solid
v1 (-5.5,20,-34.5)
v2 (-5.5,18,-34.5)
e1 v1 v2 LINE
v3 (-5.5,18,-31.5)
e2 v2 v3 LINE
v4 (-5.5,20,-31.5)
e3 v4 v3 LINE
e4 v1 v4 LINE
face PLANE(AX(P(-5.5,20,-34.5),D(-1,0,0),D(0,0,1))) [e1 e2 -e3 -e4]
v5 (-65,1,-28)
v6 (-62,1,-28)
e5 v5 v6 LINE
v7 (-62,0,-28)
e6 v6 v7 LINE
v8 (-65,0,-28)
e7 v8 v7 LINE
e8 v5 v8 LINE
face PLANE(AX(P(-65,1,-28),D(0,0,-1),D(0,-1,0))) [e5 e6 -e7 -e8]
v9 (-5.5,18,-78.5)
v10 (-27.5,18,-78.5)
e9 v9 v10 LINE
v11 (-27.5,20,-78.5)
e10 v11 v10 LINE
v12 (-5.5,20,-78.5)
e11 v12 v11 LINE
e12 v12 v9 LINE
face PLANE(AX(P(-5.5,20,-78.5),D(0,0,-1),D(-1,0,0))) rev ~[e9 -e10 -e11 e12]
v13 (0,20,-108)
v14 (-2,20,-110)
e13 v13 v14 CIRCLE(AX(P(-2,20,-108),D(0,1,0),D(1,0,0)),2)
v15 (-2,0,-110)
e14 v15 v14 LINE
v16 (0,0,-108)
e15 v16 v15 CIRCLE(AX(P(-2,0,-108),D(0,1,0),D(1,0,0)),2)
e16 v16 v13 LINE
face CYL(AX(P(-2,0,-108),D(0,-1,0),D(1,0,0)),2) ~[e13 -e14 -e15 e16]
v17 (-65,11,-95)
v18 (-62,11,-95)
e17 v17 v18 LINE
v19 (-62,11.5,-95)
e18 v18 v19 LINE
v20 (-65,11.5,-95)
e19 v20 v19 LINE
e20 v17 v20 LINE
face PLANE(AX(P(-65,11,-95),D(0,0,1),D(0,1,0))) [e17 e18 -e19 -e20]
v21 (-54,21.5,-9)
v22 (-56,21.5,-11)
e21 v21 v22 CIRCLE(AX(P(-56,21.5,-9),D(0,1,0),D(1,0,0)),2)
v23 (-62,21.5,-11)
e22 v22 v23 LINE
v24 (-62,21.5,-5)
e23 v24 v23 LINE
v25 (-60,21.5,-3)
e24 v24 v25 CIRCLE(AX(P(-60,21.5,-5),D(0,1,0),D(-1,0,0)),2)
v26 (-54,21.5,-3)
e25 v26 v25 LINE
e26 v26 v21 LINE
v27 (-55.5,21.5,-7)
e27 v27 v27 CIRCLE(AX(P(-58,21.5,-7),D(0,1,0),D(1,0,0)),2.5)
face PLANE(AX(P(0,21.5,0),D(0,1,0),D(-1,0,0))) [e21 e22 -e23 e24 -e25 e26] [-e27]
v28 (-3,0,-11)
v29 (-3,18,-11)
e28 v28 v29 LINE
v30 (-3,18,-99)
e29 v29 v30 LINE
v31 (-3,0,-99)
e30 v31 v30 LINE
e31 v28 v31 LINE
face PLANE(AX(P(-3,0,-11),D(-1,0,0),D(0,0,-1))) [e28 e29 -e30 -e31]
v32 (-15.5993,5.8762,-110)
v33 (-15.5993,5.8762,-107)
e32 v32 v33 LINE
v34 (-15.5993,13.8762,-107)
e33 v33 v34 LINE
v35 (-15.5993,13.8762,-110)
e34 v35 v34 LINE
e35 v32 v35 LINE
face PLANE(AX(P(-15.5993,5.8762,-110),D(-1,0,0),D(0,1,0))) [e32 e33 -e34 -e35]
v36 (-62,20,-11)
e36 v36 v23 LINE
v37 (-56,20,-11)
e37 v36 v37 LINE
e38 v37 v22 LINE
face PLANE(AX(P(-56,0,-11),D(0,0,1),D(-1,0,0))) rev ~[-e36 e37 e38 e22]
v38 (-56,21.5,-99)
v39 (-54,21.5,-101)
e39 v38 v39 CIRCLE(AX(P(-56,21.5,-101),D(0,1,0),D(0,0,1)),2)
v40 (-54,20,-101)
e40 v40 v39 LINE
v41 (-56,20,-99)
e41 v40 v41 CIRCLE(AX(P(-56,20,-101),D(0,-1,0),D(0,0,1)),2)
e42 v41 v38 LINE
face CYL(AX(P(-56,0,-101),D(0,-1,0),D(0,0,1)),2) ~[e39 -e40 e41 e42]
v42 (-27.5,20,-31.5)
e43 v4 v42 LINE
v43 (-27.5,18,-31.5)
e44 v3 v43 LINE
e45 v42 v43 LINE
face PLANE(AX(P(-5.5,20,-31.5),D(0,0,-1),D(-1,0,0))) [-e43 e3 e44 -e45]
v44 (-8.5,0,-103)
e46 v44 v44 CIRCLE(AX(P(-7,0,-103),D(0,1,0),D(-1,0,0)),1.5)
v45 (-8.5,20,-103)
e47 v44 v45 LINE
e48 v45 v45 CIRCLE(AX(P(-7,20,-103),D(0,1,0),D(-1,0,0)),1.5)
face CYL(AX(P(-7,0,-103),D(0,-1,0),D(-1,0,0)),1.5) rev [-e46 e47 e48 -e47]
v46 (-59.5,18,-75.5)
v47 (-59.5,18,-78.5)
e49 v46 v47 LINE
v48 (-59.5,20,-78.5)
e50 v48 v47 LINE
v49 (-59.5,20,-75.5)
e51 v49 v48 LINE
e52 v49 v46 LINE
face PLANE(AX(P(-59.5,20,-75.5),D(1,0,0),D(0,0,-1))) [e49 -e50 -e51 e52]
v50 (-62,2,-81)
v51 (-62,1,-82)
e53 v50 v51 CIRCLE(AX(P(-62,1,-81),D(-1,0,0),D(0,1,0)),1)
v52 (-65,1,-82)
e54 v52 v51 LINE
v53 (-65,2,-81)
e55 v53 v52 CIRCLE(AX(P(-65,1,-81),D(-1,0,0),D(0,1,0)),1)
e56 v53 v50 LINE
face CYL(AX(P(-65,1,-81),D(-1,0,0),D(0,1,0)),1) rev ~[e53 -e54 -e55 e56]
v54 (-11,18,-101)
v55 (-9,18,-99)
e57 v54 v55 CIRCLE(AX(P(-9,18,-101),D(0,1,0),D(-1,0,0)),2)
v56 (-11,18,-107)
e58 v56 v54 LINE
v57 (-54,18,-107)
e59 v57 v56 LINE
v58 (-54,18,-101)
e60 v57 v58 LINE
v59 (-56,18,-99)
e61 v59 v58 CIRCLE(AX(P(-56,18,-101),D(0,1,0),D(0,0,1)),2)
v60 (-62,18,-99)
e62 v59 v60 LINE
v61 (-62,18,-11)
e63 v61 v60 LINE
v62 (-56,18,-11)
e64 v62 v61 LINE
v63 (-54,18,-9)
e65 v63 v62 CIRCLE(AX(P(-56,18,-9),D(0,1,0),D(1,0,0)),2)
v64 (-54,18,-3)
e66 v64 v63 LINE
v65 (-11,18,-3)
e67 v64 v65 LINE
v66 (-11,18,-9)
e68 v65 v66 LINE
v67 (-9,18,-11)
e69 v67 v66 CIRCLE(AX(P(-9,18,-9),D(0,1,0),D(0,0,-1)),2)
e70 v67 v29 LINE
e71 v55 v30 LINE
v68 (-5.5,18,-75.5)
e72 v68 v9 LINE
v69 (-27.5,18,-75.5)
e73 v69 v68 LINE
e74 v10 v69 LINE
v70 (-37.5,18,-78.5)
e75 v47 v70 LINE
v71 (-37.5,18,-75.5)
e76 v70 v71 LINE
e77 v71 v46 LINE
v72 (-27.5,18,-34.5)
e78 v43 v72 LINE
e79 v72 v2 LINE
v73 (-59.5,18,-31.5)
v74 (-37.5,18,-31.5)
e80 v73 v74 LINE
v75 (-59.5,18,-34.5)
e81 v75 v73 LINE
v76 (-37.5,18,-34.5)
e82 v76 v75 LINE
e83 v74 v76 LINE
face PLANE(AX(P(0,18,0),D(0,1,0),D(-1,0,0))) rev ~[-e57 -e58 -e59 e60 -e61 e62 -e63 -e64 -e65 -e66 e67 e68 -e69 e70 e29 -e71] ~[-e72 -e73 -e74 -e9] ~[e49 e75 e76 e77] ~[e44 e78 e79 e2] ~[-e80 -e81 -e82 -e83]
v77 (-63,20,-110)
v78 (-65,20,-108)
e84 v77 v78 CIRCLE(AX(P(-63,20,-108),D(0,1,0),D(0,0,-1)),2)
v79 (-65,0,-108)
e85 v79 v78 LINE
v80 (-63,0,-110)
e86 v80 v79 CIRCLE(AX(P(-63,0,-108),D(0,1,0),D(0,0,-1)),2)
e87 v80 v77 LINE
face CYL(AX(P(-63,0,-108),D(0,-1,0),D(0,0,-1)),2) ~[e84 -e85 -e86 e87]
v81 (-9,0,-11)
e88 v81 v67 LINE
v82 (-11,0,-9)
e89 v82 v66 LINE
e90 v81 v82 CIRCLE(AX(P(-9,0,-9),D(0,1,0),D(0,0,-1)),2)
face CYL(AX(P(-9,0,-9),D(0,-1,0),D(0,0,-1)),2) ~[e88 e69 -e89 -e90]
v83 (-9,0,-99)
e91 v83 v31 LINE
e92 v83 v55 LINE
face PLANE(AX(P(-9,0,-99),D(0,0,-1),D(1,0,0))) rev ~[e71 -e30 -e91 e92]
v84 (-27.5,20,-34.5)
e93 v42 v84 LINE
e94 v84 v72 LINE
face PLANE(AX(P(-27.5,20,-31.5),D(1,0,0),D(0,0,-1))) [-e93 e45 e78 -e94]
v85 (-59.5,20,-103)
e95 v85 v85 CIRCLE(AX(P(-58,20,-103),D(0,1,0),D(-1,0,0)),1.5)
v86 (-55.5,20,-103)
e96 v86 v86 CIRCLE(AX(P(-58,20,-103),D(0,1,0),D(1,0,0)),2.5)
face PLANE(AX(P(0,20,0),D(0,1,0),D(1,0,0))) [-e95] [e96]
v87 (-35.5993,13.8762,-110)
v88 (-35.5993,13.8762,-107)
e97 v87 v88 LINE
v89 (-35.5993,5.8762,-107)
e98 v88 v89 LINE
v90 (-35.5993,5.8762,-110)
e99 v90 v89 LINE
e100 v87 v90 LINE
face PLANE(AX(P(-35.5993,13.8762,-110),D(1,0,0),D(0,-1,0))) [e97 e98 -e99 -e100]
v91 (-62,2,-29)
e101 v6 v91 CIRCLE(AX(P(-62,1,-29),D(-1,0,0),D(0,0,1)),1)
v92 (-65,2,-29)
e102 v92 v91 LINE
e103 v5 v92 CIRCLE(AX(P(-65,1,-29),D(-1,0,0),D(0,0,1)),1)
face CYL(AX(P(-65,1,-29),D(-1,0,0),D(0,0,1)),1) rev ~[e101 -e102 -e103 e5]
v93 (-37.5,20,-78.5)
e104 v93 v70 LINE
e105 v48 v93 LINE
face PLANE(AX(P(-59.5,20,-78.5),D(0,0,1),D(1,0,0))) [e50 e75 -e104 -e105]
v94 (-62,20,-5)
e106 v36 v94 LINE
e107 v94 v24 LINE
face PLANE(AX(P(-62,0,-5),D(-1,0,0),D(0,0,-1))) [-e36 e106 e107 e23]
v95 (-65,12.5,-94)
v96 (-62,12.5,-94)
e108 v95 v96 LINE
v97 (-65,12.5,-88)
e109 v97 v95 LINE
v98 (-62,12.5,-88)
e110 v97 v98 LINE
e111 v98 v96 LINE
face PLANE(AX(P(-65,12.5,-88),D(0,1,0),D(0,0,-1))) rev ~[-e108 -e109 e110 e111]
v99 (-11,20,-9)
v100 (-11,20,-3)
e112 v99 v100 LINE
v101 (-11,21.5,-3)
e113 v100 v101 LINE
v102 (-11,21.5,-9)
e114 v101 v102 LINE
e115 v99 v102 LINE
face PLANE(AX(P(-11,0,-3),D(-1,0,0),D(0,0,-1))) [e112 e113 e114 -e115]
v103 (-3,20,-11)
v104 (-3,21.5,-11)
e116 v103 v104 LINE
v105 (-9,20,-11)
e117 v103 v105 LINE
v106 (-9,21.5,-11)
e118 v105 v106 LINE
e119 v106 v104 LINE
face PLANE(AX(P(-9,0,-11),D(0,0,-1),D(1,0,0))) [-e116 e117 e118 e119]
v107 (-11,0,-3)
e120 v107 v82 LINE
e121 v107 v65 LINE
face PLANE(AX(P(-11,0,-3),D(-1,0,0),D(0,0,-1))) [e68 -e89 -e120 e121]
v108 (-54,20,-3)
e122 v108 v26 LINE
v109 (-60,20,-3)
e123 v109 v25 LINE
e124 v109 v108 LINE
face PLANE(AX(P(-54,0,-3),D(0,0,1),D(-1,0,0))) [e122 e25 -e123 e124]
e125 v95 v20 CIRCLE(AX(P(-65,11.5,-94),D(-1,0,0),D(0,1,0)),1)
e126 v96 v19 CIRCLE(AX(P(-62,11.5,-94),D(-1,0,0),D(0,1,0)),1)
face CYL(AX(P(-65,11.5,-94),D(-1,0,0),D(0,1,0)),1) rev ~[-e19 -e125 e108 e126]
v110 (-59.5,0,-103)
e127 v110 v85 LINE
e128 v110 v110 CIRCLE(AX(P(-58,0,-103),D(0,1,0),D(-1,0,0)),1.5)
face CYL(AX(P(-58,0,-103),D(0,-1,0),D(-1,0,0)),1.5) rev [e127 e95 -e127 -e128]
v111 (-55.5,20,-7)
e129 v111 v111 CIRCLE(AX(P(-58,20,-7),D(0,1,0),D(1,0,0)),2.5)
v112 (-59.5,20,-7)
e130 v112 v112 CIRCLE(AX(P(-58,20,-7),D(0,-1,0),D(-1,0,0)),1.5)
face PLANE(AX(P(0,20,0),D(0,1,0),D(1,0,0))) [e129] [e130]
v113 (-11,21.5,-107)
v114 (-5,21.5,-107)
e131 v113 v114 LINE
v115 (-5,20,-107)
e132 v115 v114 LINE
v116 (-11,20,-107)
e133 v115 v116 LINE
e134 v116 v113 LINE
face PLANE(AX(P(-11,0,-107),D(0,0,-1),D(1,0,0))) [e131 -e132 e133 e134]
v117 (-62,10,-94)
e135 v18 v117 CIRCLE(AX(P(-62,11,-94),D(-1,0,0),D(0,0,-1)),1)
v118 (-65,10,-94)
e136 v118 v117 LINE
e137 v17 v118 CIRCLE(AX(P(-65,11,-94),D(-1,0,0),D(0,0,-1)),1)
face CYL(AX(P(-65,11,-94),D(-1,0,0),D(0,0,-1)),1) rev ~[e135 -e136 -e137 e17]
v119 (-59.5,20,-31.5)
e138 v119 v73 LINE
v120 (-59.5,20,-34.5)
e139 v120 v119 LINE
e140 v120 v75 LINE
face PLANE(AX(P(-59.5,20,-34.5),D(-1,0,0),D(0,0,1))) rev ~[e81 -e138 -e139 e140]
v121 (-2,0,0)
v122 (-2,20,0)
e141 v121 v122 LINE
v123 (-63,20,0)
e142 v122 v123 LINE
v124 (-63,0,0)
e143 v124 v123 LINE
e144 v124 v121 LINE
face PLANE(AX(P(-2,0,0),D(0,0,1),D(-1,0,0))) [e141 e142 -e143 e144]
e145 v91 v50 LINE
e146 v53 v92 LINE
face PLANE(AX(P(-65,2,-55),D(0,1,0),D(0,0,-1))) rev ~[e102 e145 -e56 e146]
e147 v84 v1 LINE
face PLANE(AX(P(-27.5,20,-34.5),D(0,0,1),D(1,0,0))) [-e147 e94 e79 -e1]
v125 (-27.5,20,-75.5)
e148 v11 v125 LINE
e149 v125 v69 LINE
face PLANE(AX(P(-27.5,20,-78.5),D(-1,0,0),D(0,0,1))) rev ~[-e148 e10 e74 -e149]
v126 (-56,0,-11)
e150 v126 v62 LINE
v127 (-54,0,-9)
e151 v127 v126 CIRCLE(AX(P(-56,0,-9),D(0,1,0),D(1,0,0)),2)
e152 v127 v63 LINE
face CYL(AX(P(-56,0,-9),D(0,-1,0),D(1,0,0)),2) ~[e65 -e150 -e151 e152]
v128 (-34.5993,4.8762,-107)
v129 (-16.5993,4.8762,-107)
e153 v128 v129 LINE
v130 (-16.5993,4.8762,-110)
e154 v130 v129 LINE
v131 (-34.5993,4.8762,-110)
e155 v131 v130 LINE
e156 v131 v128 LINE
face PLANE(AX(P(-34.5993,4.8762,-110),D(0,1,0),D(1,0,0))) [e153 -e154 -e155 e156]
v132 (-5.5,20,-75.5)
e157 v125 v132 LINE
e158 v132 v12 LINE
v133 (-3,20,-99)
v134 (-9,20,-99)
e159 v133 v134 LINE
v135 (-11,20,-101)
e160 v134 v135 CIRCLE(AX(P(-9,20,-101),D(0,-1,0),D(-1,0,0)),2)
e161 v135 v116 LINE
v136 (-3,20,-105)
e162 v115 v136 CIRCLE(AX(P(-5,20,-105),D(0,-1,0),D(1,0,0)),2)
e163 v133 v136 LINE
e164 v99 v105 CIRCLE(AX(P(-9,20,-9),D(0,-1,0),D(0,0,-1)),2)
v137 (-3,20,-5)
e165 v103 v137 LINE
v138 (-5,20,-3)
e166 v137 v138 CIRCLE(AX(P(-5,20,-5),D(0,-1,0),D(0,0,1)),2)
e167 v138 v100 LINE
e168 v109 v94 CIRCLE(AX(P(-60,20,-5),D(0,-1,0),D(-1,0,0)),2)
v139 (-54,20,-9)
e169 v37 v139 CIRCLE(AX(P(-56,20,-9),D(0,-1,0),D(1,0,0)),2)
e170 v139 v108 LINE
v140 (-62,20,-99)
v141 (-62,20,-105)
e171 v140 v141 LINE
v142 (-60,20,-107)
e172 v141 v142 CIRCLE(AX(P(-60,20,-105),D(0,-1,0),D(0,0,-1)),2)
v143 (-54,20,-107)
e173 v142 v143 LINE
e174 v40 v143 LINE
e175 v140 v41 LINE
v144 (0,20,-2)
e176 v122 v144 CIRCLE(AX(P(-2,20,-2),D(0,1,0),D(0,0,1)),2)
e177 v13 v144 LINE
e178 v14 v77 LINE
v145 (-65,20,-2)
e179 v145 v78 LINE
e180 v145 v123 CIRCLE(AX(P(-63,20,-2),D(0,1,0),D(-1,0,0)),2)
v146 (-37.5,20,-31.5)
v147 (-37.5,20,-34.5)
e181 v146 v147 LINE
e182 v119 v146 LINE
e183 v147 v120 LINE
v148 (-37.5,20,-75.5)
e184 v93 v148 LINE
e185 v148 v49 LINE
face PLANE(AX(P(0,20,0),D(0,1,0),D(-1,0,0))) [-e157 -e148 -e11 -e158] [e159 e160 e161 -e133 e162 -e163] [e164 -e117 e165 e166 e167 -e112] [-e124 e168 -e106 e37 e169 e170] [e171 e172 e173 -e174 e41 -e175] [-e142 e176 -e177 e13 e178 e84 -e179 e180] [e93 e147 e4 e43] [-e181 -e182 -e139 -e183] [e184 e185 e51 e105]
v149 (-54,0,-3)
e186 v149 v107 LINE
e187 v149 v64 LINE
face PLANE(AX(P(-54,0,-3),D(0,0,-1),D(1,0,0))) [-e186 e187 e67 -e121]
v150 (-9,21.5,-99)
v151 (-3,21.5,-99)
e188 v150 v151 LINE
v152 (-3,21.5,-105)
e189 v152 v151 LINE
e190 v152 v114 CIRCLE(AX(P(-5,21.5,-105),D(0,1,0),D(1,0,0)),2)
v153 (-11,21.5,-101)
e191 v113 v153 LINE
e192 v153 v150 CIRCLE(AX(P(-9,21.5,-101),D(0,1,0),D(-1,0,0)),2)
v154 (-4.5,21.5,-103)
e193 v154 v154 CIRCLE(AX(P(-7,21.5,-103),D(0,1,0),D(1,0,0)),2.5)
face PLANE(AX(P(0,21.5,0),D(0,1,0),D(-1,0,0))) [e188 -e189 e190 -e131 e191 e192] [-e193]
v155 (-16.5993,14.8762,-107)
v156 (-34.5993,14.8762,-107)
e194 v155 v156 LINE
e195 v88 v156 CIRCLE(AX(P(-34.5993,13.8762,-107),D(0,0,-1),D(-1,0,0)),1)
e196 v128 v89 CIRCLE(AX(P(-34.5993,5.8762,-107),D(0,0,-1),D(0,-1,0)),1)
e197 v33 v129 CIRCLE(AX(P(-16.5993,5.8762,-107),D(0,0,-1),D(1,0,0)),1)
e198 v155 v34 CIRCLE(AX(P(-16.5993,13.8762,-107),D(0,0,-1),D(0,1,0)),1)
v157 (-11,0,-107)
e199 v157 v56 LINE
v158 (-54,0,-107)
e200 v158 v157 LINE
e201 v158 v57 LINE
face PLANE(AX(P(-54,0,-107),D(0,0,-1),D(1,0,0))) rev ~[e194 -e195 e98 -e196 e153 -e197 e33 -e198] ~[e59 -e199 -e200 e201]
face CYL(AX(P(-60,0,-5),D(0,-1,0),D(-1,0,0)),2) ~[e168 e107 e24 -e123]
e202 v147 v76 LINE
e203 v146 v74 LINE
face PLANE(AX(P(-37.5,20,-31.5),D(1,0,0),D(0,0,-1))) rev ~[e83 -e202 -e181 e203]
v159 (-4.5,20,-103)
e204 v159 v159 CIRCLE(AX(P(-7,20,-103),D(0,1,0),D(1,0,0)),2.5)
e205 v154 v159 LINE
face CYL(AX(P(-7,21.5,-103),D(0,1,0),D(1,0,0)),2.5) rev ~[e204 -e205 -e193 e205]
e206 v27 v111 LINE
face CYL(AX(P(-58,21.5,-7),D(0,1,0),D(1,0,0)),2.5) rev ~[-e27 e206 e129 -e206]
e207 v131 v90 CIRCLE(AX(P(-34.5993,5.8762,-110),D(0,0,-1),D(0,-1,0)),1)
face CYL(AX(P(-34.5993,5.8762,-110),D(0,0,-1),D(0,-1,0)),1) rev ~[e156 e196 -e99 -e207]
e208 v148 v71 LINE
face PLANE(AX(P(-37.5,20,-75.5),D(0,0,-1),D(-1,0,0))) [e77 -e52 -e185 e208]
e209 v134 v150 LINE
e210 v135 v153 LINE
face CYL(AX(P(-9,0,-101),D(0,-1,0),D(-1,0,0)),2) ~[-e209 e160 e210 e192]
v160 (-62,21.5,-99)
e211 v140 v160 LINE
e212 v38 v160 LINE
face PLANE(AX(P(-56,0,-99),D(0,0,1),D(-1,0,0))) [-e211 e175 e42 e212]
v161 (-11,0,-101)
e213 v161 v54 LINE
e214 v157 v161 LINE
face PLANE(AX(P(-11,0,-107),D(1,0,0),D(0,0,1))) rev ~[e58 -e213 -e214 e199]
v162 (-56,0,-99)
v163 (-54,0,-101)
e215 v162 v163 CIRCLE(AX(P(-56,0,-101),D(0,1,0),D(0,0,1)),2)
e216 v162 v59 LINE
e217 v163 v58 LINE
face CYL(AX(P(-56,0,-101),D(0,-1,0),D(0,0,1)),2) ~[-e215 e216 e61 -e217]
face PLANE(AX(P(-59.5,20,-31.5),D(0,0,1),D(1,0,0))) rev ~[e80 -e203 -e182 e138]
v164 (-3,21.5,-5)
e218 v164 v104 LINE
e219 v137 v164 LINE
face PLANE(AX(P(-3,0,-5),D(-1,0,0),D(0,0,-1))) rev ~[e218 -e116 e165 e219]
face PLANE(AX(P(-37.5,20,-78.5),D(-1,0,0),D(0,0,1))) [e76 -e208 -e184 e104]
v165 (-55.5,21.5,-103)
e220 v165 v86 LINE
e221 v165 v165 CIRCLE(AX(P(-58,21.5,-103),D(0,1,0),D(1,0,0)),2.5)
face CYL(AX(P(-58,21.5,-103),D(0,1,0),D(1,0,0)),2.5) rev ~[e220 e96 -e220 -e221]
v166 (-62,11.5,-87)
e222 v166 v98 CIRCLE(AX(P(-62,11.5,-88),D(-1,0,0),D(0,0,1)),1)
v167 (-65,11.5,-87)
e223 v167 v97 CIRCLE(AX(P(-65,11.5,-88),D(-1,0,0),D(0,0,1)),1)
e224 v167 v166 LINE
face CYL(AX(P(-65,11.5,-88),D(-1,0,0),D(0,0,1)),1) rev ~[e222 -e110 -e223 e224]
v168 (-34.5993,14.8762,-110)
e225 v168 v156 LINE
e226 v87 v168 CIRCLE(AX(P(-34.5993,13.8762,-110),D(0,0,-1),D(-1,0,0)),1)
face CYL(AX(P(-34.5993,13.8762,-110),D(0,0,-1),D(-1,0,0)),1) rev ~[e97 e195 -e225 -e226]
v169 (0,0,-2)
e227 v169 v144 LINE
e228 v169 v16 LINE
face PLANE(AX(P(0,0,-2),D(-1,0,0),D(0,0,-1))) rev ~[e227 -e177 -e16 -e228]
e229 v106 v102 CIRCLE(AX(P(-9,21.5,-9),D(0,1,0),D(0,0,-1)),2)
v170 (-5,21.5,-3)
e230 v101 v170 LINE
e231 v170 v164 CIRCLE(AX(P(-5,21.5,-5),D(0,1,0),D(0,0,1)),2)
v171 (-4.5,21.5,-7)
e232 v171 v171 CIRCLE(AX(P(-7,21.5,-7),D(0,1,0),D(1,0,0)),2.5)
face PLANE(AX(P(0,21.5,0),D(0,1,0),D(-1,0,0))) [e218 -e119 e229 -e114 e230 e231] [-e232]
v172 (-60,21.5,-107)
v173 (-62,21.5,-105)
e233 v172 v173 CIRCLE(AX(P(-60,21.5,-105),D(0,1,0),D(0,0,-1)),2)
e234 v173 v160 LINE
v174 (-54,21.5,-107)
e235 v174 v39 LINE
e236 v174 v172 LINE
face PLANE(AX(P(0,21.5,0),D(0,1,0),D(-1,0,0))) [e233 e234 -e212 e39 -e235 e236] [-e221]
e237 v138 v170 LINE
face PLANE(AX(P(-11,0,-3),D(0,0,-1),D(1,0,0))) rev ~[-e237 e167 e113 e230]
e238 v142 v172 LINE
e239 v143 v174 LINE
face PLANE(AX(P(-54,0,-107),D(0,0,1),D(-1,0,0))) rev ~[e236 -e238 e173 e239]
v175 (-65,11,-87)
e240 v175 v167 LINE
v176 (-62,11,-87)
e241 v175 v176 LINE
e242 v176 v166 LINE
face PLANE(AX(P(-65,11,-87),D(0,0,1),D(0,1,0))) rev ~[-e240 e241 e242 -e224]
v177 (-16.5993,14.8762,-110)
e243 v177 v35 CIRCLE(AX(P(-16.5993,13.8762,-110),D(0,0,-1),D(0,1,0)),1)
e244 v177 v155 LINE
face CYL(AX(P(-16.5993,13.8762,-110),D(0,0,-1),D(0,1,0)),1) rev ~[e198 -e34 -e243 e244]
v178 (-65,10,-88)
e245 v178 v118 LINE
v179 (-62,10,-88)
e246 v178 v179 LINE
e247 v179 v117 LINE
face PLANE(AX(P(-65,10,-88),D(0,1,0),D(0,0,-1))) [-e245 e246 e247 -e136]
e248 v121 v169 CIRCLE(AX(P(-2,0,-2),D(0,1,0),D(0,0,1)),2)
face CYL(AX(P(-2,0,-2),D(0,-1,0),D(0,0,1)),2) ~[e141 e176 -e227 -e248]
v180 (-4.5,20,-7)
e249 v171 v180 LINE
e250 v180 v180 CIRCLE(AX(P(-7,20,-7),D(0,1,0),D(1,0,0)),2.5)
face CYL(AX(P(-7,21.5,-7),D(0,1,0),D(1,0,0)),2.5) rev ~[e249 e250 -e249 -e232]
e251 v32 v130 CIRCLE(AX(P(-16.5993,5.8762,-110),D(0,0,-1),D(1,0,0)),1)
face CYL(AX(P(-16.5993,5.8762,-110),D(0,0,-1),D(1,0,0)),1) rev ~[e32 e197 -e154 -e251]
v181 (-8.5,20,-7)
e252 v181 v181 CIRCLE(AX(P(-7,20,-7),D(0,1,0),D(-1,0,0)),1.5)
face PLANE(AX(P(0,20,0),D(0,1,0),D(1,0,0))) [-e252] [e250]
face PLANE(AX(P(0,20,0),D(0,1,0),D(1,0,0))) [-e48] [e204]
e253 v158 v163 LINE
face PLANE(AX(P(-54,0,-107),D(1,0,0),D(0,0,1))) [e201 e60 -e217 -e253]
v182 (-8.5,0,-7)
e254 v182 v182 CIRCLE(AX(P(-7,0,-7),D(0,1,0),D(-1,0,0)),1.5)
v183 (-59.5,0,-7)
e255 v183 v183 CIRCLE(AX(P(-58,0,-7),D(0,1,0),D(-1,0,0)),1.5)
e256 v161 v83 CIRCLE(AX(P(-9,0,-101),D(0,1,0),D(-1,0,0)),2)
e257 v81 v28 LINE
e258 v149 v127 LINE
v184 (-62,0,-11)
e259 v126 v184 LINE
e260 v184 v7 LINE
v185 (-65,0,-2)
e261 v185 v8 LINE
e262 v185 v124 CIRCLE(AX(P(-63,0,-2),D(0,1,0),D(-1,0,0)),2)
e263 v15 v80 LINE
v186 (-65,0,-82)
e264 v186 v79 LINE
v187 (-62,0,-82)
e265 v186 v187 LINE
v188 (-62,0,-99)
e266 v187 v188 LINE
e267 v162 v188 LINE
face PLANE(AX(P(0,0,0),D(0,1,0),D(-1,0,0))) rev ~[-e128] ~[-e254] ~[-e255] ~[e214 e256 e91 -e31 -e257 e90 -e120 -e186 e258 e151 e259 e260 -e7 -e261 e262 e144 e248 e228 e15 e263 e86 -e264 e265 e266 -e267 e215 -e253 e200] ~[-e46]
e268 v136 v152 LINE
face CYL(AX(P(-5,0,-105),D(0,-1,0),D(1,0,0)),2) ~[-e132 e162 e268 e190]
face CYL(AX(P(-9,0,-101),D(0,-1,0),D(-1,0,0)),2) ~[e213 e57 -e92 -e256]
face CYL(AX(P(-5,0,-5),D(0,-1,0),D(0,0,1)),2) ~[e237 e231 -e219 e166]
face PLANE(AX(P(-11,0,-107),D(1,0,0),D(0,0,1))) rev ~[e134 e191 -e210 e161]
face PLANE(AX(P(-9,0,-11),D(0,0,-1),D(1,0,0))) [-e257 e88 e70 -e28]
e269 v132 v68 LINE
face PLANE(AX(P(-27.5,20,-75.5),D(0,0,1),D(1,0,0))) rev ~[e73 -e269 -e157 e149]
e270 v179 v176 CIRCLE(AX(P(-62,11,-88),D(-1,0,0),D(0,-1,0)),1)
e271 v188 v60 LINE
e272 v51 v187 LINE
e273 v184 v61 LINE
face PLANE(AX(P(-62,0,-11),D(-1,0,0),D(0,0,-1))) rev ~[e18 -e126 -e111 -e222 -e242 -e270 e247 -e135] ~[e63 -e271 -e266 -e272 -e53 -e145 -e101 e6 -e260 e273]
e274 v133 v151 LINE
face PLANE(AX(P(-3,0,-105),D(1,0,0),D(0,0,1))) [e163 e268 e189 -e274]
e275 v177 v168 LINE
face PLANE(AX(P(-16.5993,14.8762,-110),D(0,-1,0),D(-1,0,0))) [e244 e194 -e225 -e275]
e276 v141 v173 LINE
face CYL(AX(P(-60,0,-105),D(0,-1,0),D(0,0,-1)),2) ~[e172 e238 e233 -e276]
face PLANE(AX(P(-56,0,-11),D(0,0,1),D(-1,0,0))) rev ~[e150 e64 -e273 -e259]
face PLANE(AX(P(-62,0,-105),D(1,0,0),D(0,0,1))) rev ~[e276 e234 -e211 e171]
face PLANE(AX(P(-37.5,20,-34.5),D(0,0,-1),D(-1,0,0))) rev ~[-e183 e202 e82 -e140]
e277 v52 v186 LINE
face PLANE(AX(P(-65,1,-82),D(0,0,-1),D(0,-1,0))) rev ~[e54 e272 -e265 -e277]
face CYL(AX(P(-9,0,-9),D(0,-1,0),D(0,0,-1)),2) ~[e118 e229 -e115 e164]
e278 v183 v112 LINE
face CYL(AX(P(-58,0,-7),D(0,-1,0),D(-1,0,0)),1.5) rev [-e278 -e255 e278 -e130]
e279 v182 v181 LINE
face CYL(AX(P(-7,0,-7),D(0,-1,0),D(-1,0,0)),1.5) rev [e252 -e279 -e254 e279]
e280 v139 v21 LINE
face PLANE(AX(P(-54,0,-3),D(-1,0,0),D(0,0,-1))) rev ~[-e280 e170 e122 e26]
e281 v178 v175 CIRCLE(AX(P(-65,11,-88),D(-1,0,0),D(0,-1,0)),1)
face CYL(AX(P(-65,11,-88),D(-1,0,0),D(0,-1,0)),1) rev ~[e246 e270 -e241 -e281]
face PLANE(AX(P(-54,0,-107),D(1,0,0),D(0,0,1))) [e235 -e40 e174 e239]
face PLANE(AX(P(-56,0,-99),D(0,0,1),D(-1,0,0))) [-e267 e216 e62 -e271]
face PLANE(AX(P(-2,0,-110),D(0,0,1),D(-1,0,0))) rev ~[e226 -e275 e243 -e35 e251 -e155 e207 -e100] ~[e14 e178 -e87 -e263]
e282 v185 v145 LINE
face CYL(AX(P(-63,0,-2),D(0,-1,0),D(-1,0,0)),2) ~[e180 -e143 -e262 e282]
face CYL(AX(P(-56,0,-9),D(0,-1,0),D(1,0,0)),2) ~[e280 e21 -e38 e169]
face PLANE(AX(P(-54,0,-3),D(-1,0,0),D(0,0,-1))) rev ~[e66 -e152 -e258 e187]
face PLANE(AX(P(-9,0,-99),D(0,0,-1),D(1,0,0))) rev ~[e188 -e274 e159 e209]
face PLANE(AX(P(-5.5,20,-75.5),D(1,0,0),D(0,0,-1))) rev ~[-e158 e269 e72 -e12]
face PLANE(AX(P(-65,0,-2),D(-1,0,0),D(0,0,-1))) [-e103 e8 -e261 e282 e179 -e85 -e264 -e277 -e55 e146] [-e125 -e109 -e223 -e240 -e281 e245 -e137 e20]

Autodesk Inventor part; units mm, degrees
ref_plane "YZ Plane" through (0, 0, 0) normal (1, 0, 0) x (0, 1, 0)
ref_plane "XZ Plane" through (0, 0, 0) normal (0, 1, 0) x (-1, 0, 0)
ref_plane "XY Plane" through (0, 0, 0) normal (0, 0, 1) x (1, 0, 0)
sketch "Sketch1" plane through (0, 0, 0) normal (0, 1, 0) x (-1, 0, 0)
  line L0 (0, -2) -> (0, -108)
  line L1 (2, -110) -> (63, -110)
  line L2 (2, 0) -> (63, 0)
  line L3 (65, -2) -> (65, -108)
  line L4 (0, 0) -> (0, -3)
  line L5 (65, 0) -> (57, 0)
  line L6 (0, -110) -> (0, -107)
  line L7 (0, 0) -> (3, 0)
  arc A0 (65, -2) -> (63, 0) centre (63, -2) ccw
  arc A1 (2, 0) -> (0, -2) centre (2, -2) ccw
  arc A2 (0, -108) -> (2, -110) centre (2, -108) ccw
  arc A3 (63, -110) -> (65, -108) centre (63, -108) ccw
  arc A4 (5, -3) -> (3, -5) centre (5, -5) ccw
  circle A5 centre (7, -7) radius 1.5
  line L8 (11, -3) -> (11, -9)
  line L9 (9, -11) -> (3, -11)
  arc A6 (9, -11) -> (11, -9) centre (9, -9) ccw
  line L10 (3, -5) -> (3, -11)
  arc A7 (3, -105) -> (5, -107) centre (5, -105) ccw
  circle A8 centre (7, -103) radius 1.5
  line L11 (11, -107) -> (11, -101)
  line L12 (9, -99) -> (3, -99)
  arc A9 (11, -101) -> (9, -99) centre (9, -101) ccw
  line L13 (3, -105) -> (3, -99)
  line L14 (3, -11) -> (3, -99)
  line L15 (11, -107) -> (5, -107)
  line L16 (11, -3) -> (5, -3)
  arc A10 (62, -5) -> (60, -3) centre (60, -5) ccw
  circle A11 centre (58, -7) radius 1.5
  line L17 (54, -3) -> (54, -9)
  line L18 (56, -11) -> (62, -11)
  arc A12 (54, -9) -> (56, -11) centre (56, -9) ccw
  line L19 (62, -5) -> (62, -11)
  arc A13 (56, -99) -> (54, -101) centre (56, -101) ccw
  circle A14 centre (58, -103) radius 1.5
  line L20 (56, -99) -> (62, -99)
  line L21 (62, -105) -> (62, -99)
  arc A15 (60, -107) -> (62, -105) centre (60, -105) ccw
  line L22 (54, -107) -> (54, -101)
  line L23 (62, -11) -> (62, -99)
  line L24 (54, -107) -> (60, -107)
  line L25 (54, -3) -> (60, -3)
  line L26 (54, -107) -> (11, -107)
  line L27 (54, -3) -> (11, -3)
  point P0 (65, -110)
  point P1 (55, -5)
  point P2 (55, -105)
  dimension "d0" = 110
  dimension "d1" = 65
  dimension "d2" = 3
  dimension "d4" = 3
  dimension "d5" = 3
  dimension "d8" = 2
extrude "Extrusion18" add sketch "Sketch1" along normal blind 20 contours A1 L2 A0 L3 A3 L1 A2 L0 | L16 L8 A6 L9 L10 A4 | L27 L17 A12 L18 L23 L20 A13 L22 L26 L11 A9 L12 L14 L9 A6 L8 | L25 A10 L19 L18 A12 L17 | L12 A9 L11 L15 A7 L13 | L21 A15 L24 L22 A13 L20 | A5 | A8 | A11 | A14
extrude "Extrusion19" cut sketch "Sketch1" along normal blind 18 contours L27 L17 A12 L18 L23 L20 A13 L22 L26 L11 A9 L12 L14 L9 A6 L8
extrude "Extrusion20" cut sketch "Sketch1" along normal blind 20 contours A5 | A8 | A11 | A14
extrude "Extrusion21" add sketch "Sketch1" along normal blind 21.5 contours L16 L8 A6 L9 L10 A4 | L25 A10 L19 L18 A12 L17 | L12 A9 L11 L15 A7 L13 | L21 A15 L24 L22 A13 L20
sketch "Sketch11" plane through (0, 21.5, 0) normal (0, 1, 0) x (1, 0, 0)
  circle A0 centre (-7, 7) radius 1.5 projected
  circle A1 centre (-7, 7) radius 2.5
  circle A2 centre (-7, 103) radius 1.5 projected
  circle A3 centre (-7, 103) radius 2.5
  circle A4 centre (-58, 103) radius 1.5 projected
  circle A5 centre (-58, 103) radius 2.5
  circle A6 centre (-58, 7) radius 1.5 projected
  circle A7 centre (-58, 7) radius 2.5
  point P0 (0, 0)
  dimension "d166" = 5
  dimension "d167" = 5
  dimension "d168" = 5
  dimension "d169" = 5
extrude "Extrusion22" cut sketch "Sketch11" against normal blind 1.5 contours A1 | A3 | A5 | A6 | A7
sketch "Sketch12" plane through (-65, 0, -108) normal (-1, 0, 0) x (0, 0, 1)
  line L0 (99, 0) -> (99, 18) projected
  line L1 (7, 0) -> (7, 18) projected
  line L2 (99, 0) -> (7, 0)
  line L3 (97, 0) -> (9, 0) projected
  line L4 (53, 2) -> (27, 2)
  line L5 (53, 2) -> (79, 2)
  line L6 (80, 1) -> (80, 0)
  line L7 (26, 1) -> (26, 0)
  line L8 (20, 10) -> (14, 10)
  line L9 (13, 11) -> (13, 11.5)
  line L10 (21, 11) -> (21, 11.5)
  line L11 (20, 12.5) -> (14, 12.5)
  arc A0 (80, 1) -> (79, 2) centre (79, 1) ccw
  arc A1 (27, 2) -> (26, 1) centre (27, 1) ccw
  arc A2 (20, 10) -> (21, 11) centre (20, 11) ccw
  arc A3 (21, 11.5) -> (20, 12.5) centre (20, 11.5) ccw
  arc A4 (14, 12.5) -> (13, 11.5) centre (14, 11.5) ccw
  arc A5 (13, 11) -> (14, 10) centre (14, 11) ccw
  point P0 (108, 0)
  point P1 (26, 2)
  point P2 (80, 2)
  point P3 (21, 10)
  point P4 (13, 10)
  point P5 (13, 12.5)
  dimension "d173" = 27
  dimension "d174" = 27
  dimension "d179" = 8
  dimension "d180" = 2.5
  dimension "d181" = 1
  dimension "d182" = 1
extrude "Extrusion23" cut sketch "Sketch12" against normal blind 3
sketch "Sketch13" plane through (0, 20, 0) normal (0, 1, 0) x (1, 0, 0)
  line L0 (-62, 11) -> (-56, 11) projected
  line L1 (-3, 99) -> (-9, 99) projected
  line L2 (-62, 99) -> (-3, 99)
  line L3 (-3, 11) -> (-3, 99) projected
  line L4 (-3, 99) -> (-3, 11)
  line L5 (-3, 11) -> (-62, 11)
  line L6 (-62, 55) -> (-3, 55)
  line L7 (-62, 55) -> (-62, 11)
  line L8 (-62, 29) -> (-62, 81) projected
  line L9 (-3, 55) -> (-62, 55)
  line L10 (-37.5, 34.5) -> (-59.5, 34.5)
  line L11 (-59.5, 34.5) -> (-59.5, 31.5)
  line L12 (-59.5, 31.5) -> (-37.5, 31.5)
  line L13 (-37.5, 31.5) -> (-37.5, 34.5)
  line L14 (-27.5, 34.5) -> (-5.5, 34.5)
  line L15 (-5.5, 34.5) -> (-5.5, 31.5)
  line L16 (-5.5, 31.5) -> (-27.5, 31.5)
  line L17 (-27.5, 31.5) -> (-27.5, 34.5)
  line L18 (-37.5, 75.5) -> (-59.5, 75.5)
  line L19 (-59.5, 75.5) -> (-59.5, 78.5)
  line L20 (-59.5, 78.5) -> (-37.5, 78.5)
  line L21 (-37.5, 78.5) -> (-37.5, 75.5)
  line L22 (-27.5, 75.5) -> (-5.5, 75.5)
  line L23 (-5.5, 75.5) -> (-5.5, 78.5)
  line L24 (-5.5, 78.5) -> (-27.5, 78.5)
  line L25 (-27.5, 78.5) -> (-27.5, 75.5)
  point P0 (0, 0)
  dimension "d202" = 22
  dimension "d203" = 3
extrude "Extrusion24" cut sketch "Sketch13" against normal blind 3 contours L13 L12 L11 L10 | L14 L15 L16 L17 | L18 L19 L20 L21 | L25 L24 L23 L22
sketch "Sketch14" plane through (-2, 0, -110) normal (0, 0, -1) x (-1, 0, 0)
  line L0 (0, 0) -> (61, 0) projected
  line L1 (7, 0) -> (7, 18) projected
  line L2 (13.5993, 5.8762) -> (13.5993, 13.8762)
  line L3 (14.5993, 14.8762) -> (32.5993, 14.8762)
  line L4 (33.5993, 13.8762) -> (33.5993, 5.8762)
  line L5 (32.5993, 4.8762) -> (14.5993, 4.8762)
  arc A0 (32.5993, 4.8762) -> (33.5993, 5.8762) centre (32.5993, 5.8762) ccw
  arc A1 (13.5993, 5.8762) -> (14.5993, 4.8762) centre (14.5993, 5.8762) ccw
  arc A2 (14.5993, 14.8762) -> (13.5993, 13.8762) centre (14.5993, 13.8762) ccw
  arc A3 (33.5993, 13.8762) -> (32.5993, 14.8762) centre (32.5993, 13.8762) ccw
  point P0 (-2, 0)
  point P1 (13.5993, 4.8762)
  point P2 (13.5993, 14.8762)
  point P3 (33.5993, 14.8762)
  dimension "d194" = 10
  dimension "d195" = 20
  dimension "d196" = 1
extrude "Extrusion25" cut sketch "Sketch14" against normal blind 3
properties part number "Part 2 edit"
